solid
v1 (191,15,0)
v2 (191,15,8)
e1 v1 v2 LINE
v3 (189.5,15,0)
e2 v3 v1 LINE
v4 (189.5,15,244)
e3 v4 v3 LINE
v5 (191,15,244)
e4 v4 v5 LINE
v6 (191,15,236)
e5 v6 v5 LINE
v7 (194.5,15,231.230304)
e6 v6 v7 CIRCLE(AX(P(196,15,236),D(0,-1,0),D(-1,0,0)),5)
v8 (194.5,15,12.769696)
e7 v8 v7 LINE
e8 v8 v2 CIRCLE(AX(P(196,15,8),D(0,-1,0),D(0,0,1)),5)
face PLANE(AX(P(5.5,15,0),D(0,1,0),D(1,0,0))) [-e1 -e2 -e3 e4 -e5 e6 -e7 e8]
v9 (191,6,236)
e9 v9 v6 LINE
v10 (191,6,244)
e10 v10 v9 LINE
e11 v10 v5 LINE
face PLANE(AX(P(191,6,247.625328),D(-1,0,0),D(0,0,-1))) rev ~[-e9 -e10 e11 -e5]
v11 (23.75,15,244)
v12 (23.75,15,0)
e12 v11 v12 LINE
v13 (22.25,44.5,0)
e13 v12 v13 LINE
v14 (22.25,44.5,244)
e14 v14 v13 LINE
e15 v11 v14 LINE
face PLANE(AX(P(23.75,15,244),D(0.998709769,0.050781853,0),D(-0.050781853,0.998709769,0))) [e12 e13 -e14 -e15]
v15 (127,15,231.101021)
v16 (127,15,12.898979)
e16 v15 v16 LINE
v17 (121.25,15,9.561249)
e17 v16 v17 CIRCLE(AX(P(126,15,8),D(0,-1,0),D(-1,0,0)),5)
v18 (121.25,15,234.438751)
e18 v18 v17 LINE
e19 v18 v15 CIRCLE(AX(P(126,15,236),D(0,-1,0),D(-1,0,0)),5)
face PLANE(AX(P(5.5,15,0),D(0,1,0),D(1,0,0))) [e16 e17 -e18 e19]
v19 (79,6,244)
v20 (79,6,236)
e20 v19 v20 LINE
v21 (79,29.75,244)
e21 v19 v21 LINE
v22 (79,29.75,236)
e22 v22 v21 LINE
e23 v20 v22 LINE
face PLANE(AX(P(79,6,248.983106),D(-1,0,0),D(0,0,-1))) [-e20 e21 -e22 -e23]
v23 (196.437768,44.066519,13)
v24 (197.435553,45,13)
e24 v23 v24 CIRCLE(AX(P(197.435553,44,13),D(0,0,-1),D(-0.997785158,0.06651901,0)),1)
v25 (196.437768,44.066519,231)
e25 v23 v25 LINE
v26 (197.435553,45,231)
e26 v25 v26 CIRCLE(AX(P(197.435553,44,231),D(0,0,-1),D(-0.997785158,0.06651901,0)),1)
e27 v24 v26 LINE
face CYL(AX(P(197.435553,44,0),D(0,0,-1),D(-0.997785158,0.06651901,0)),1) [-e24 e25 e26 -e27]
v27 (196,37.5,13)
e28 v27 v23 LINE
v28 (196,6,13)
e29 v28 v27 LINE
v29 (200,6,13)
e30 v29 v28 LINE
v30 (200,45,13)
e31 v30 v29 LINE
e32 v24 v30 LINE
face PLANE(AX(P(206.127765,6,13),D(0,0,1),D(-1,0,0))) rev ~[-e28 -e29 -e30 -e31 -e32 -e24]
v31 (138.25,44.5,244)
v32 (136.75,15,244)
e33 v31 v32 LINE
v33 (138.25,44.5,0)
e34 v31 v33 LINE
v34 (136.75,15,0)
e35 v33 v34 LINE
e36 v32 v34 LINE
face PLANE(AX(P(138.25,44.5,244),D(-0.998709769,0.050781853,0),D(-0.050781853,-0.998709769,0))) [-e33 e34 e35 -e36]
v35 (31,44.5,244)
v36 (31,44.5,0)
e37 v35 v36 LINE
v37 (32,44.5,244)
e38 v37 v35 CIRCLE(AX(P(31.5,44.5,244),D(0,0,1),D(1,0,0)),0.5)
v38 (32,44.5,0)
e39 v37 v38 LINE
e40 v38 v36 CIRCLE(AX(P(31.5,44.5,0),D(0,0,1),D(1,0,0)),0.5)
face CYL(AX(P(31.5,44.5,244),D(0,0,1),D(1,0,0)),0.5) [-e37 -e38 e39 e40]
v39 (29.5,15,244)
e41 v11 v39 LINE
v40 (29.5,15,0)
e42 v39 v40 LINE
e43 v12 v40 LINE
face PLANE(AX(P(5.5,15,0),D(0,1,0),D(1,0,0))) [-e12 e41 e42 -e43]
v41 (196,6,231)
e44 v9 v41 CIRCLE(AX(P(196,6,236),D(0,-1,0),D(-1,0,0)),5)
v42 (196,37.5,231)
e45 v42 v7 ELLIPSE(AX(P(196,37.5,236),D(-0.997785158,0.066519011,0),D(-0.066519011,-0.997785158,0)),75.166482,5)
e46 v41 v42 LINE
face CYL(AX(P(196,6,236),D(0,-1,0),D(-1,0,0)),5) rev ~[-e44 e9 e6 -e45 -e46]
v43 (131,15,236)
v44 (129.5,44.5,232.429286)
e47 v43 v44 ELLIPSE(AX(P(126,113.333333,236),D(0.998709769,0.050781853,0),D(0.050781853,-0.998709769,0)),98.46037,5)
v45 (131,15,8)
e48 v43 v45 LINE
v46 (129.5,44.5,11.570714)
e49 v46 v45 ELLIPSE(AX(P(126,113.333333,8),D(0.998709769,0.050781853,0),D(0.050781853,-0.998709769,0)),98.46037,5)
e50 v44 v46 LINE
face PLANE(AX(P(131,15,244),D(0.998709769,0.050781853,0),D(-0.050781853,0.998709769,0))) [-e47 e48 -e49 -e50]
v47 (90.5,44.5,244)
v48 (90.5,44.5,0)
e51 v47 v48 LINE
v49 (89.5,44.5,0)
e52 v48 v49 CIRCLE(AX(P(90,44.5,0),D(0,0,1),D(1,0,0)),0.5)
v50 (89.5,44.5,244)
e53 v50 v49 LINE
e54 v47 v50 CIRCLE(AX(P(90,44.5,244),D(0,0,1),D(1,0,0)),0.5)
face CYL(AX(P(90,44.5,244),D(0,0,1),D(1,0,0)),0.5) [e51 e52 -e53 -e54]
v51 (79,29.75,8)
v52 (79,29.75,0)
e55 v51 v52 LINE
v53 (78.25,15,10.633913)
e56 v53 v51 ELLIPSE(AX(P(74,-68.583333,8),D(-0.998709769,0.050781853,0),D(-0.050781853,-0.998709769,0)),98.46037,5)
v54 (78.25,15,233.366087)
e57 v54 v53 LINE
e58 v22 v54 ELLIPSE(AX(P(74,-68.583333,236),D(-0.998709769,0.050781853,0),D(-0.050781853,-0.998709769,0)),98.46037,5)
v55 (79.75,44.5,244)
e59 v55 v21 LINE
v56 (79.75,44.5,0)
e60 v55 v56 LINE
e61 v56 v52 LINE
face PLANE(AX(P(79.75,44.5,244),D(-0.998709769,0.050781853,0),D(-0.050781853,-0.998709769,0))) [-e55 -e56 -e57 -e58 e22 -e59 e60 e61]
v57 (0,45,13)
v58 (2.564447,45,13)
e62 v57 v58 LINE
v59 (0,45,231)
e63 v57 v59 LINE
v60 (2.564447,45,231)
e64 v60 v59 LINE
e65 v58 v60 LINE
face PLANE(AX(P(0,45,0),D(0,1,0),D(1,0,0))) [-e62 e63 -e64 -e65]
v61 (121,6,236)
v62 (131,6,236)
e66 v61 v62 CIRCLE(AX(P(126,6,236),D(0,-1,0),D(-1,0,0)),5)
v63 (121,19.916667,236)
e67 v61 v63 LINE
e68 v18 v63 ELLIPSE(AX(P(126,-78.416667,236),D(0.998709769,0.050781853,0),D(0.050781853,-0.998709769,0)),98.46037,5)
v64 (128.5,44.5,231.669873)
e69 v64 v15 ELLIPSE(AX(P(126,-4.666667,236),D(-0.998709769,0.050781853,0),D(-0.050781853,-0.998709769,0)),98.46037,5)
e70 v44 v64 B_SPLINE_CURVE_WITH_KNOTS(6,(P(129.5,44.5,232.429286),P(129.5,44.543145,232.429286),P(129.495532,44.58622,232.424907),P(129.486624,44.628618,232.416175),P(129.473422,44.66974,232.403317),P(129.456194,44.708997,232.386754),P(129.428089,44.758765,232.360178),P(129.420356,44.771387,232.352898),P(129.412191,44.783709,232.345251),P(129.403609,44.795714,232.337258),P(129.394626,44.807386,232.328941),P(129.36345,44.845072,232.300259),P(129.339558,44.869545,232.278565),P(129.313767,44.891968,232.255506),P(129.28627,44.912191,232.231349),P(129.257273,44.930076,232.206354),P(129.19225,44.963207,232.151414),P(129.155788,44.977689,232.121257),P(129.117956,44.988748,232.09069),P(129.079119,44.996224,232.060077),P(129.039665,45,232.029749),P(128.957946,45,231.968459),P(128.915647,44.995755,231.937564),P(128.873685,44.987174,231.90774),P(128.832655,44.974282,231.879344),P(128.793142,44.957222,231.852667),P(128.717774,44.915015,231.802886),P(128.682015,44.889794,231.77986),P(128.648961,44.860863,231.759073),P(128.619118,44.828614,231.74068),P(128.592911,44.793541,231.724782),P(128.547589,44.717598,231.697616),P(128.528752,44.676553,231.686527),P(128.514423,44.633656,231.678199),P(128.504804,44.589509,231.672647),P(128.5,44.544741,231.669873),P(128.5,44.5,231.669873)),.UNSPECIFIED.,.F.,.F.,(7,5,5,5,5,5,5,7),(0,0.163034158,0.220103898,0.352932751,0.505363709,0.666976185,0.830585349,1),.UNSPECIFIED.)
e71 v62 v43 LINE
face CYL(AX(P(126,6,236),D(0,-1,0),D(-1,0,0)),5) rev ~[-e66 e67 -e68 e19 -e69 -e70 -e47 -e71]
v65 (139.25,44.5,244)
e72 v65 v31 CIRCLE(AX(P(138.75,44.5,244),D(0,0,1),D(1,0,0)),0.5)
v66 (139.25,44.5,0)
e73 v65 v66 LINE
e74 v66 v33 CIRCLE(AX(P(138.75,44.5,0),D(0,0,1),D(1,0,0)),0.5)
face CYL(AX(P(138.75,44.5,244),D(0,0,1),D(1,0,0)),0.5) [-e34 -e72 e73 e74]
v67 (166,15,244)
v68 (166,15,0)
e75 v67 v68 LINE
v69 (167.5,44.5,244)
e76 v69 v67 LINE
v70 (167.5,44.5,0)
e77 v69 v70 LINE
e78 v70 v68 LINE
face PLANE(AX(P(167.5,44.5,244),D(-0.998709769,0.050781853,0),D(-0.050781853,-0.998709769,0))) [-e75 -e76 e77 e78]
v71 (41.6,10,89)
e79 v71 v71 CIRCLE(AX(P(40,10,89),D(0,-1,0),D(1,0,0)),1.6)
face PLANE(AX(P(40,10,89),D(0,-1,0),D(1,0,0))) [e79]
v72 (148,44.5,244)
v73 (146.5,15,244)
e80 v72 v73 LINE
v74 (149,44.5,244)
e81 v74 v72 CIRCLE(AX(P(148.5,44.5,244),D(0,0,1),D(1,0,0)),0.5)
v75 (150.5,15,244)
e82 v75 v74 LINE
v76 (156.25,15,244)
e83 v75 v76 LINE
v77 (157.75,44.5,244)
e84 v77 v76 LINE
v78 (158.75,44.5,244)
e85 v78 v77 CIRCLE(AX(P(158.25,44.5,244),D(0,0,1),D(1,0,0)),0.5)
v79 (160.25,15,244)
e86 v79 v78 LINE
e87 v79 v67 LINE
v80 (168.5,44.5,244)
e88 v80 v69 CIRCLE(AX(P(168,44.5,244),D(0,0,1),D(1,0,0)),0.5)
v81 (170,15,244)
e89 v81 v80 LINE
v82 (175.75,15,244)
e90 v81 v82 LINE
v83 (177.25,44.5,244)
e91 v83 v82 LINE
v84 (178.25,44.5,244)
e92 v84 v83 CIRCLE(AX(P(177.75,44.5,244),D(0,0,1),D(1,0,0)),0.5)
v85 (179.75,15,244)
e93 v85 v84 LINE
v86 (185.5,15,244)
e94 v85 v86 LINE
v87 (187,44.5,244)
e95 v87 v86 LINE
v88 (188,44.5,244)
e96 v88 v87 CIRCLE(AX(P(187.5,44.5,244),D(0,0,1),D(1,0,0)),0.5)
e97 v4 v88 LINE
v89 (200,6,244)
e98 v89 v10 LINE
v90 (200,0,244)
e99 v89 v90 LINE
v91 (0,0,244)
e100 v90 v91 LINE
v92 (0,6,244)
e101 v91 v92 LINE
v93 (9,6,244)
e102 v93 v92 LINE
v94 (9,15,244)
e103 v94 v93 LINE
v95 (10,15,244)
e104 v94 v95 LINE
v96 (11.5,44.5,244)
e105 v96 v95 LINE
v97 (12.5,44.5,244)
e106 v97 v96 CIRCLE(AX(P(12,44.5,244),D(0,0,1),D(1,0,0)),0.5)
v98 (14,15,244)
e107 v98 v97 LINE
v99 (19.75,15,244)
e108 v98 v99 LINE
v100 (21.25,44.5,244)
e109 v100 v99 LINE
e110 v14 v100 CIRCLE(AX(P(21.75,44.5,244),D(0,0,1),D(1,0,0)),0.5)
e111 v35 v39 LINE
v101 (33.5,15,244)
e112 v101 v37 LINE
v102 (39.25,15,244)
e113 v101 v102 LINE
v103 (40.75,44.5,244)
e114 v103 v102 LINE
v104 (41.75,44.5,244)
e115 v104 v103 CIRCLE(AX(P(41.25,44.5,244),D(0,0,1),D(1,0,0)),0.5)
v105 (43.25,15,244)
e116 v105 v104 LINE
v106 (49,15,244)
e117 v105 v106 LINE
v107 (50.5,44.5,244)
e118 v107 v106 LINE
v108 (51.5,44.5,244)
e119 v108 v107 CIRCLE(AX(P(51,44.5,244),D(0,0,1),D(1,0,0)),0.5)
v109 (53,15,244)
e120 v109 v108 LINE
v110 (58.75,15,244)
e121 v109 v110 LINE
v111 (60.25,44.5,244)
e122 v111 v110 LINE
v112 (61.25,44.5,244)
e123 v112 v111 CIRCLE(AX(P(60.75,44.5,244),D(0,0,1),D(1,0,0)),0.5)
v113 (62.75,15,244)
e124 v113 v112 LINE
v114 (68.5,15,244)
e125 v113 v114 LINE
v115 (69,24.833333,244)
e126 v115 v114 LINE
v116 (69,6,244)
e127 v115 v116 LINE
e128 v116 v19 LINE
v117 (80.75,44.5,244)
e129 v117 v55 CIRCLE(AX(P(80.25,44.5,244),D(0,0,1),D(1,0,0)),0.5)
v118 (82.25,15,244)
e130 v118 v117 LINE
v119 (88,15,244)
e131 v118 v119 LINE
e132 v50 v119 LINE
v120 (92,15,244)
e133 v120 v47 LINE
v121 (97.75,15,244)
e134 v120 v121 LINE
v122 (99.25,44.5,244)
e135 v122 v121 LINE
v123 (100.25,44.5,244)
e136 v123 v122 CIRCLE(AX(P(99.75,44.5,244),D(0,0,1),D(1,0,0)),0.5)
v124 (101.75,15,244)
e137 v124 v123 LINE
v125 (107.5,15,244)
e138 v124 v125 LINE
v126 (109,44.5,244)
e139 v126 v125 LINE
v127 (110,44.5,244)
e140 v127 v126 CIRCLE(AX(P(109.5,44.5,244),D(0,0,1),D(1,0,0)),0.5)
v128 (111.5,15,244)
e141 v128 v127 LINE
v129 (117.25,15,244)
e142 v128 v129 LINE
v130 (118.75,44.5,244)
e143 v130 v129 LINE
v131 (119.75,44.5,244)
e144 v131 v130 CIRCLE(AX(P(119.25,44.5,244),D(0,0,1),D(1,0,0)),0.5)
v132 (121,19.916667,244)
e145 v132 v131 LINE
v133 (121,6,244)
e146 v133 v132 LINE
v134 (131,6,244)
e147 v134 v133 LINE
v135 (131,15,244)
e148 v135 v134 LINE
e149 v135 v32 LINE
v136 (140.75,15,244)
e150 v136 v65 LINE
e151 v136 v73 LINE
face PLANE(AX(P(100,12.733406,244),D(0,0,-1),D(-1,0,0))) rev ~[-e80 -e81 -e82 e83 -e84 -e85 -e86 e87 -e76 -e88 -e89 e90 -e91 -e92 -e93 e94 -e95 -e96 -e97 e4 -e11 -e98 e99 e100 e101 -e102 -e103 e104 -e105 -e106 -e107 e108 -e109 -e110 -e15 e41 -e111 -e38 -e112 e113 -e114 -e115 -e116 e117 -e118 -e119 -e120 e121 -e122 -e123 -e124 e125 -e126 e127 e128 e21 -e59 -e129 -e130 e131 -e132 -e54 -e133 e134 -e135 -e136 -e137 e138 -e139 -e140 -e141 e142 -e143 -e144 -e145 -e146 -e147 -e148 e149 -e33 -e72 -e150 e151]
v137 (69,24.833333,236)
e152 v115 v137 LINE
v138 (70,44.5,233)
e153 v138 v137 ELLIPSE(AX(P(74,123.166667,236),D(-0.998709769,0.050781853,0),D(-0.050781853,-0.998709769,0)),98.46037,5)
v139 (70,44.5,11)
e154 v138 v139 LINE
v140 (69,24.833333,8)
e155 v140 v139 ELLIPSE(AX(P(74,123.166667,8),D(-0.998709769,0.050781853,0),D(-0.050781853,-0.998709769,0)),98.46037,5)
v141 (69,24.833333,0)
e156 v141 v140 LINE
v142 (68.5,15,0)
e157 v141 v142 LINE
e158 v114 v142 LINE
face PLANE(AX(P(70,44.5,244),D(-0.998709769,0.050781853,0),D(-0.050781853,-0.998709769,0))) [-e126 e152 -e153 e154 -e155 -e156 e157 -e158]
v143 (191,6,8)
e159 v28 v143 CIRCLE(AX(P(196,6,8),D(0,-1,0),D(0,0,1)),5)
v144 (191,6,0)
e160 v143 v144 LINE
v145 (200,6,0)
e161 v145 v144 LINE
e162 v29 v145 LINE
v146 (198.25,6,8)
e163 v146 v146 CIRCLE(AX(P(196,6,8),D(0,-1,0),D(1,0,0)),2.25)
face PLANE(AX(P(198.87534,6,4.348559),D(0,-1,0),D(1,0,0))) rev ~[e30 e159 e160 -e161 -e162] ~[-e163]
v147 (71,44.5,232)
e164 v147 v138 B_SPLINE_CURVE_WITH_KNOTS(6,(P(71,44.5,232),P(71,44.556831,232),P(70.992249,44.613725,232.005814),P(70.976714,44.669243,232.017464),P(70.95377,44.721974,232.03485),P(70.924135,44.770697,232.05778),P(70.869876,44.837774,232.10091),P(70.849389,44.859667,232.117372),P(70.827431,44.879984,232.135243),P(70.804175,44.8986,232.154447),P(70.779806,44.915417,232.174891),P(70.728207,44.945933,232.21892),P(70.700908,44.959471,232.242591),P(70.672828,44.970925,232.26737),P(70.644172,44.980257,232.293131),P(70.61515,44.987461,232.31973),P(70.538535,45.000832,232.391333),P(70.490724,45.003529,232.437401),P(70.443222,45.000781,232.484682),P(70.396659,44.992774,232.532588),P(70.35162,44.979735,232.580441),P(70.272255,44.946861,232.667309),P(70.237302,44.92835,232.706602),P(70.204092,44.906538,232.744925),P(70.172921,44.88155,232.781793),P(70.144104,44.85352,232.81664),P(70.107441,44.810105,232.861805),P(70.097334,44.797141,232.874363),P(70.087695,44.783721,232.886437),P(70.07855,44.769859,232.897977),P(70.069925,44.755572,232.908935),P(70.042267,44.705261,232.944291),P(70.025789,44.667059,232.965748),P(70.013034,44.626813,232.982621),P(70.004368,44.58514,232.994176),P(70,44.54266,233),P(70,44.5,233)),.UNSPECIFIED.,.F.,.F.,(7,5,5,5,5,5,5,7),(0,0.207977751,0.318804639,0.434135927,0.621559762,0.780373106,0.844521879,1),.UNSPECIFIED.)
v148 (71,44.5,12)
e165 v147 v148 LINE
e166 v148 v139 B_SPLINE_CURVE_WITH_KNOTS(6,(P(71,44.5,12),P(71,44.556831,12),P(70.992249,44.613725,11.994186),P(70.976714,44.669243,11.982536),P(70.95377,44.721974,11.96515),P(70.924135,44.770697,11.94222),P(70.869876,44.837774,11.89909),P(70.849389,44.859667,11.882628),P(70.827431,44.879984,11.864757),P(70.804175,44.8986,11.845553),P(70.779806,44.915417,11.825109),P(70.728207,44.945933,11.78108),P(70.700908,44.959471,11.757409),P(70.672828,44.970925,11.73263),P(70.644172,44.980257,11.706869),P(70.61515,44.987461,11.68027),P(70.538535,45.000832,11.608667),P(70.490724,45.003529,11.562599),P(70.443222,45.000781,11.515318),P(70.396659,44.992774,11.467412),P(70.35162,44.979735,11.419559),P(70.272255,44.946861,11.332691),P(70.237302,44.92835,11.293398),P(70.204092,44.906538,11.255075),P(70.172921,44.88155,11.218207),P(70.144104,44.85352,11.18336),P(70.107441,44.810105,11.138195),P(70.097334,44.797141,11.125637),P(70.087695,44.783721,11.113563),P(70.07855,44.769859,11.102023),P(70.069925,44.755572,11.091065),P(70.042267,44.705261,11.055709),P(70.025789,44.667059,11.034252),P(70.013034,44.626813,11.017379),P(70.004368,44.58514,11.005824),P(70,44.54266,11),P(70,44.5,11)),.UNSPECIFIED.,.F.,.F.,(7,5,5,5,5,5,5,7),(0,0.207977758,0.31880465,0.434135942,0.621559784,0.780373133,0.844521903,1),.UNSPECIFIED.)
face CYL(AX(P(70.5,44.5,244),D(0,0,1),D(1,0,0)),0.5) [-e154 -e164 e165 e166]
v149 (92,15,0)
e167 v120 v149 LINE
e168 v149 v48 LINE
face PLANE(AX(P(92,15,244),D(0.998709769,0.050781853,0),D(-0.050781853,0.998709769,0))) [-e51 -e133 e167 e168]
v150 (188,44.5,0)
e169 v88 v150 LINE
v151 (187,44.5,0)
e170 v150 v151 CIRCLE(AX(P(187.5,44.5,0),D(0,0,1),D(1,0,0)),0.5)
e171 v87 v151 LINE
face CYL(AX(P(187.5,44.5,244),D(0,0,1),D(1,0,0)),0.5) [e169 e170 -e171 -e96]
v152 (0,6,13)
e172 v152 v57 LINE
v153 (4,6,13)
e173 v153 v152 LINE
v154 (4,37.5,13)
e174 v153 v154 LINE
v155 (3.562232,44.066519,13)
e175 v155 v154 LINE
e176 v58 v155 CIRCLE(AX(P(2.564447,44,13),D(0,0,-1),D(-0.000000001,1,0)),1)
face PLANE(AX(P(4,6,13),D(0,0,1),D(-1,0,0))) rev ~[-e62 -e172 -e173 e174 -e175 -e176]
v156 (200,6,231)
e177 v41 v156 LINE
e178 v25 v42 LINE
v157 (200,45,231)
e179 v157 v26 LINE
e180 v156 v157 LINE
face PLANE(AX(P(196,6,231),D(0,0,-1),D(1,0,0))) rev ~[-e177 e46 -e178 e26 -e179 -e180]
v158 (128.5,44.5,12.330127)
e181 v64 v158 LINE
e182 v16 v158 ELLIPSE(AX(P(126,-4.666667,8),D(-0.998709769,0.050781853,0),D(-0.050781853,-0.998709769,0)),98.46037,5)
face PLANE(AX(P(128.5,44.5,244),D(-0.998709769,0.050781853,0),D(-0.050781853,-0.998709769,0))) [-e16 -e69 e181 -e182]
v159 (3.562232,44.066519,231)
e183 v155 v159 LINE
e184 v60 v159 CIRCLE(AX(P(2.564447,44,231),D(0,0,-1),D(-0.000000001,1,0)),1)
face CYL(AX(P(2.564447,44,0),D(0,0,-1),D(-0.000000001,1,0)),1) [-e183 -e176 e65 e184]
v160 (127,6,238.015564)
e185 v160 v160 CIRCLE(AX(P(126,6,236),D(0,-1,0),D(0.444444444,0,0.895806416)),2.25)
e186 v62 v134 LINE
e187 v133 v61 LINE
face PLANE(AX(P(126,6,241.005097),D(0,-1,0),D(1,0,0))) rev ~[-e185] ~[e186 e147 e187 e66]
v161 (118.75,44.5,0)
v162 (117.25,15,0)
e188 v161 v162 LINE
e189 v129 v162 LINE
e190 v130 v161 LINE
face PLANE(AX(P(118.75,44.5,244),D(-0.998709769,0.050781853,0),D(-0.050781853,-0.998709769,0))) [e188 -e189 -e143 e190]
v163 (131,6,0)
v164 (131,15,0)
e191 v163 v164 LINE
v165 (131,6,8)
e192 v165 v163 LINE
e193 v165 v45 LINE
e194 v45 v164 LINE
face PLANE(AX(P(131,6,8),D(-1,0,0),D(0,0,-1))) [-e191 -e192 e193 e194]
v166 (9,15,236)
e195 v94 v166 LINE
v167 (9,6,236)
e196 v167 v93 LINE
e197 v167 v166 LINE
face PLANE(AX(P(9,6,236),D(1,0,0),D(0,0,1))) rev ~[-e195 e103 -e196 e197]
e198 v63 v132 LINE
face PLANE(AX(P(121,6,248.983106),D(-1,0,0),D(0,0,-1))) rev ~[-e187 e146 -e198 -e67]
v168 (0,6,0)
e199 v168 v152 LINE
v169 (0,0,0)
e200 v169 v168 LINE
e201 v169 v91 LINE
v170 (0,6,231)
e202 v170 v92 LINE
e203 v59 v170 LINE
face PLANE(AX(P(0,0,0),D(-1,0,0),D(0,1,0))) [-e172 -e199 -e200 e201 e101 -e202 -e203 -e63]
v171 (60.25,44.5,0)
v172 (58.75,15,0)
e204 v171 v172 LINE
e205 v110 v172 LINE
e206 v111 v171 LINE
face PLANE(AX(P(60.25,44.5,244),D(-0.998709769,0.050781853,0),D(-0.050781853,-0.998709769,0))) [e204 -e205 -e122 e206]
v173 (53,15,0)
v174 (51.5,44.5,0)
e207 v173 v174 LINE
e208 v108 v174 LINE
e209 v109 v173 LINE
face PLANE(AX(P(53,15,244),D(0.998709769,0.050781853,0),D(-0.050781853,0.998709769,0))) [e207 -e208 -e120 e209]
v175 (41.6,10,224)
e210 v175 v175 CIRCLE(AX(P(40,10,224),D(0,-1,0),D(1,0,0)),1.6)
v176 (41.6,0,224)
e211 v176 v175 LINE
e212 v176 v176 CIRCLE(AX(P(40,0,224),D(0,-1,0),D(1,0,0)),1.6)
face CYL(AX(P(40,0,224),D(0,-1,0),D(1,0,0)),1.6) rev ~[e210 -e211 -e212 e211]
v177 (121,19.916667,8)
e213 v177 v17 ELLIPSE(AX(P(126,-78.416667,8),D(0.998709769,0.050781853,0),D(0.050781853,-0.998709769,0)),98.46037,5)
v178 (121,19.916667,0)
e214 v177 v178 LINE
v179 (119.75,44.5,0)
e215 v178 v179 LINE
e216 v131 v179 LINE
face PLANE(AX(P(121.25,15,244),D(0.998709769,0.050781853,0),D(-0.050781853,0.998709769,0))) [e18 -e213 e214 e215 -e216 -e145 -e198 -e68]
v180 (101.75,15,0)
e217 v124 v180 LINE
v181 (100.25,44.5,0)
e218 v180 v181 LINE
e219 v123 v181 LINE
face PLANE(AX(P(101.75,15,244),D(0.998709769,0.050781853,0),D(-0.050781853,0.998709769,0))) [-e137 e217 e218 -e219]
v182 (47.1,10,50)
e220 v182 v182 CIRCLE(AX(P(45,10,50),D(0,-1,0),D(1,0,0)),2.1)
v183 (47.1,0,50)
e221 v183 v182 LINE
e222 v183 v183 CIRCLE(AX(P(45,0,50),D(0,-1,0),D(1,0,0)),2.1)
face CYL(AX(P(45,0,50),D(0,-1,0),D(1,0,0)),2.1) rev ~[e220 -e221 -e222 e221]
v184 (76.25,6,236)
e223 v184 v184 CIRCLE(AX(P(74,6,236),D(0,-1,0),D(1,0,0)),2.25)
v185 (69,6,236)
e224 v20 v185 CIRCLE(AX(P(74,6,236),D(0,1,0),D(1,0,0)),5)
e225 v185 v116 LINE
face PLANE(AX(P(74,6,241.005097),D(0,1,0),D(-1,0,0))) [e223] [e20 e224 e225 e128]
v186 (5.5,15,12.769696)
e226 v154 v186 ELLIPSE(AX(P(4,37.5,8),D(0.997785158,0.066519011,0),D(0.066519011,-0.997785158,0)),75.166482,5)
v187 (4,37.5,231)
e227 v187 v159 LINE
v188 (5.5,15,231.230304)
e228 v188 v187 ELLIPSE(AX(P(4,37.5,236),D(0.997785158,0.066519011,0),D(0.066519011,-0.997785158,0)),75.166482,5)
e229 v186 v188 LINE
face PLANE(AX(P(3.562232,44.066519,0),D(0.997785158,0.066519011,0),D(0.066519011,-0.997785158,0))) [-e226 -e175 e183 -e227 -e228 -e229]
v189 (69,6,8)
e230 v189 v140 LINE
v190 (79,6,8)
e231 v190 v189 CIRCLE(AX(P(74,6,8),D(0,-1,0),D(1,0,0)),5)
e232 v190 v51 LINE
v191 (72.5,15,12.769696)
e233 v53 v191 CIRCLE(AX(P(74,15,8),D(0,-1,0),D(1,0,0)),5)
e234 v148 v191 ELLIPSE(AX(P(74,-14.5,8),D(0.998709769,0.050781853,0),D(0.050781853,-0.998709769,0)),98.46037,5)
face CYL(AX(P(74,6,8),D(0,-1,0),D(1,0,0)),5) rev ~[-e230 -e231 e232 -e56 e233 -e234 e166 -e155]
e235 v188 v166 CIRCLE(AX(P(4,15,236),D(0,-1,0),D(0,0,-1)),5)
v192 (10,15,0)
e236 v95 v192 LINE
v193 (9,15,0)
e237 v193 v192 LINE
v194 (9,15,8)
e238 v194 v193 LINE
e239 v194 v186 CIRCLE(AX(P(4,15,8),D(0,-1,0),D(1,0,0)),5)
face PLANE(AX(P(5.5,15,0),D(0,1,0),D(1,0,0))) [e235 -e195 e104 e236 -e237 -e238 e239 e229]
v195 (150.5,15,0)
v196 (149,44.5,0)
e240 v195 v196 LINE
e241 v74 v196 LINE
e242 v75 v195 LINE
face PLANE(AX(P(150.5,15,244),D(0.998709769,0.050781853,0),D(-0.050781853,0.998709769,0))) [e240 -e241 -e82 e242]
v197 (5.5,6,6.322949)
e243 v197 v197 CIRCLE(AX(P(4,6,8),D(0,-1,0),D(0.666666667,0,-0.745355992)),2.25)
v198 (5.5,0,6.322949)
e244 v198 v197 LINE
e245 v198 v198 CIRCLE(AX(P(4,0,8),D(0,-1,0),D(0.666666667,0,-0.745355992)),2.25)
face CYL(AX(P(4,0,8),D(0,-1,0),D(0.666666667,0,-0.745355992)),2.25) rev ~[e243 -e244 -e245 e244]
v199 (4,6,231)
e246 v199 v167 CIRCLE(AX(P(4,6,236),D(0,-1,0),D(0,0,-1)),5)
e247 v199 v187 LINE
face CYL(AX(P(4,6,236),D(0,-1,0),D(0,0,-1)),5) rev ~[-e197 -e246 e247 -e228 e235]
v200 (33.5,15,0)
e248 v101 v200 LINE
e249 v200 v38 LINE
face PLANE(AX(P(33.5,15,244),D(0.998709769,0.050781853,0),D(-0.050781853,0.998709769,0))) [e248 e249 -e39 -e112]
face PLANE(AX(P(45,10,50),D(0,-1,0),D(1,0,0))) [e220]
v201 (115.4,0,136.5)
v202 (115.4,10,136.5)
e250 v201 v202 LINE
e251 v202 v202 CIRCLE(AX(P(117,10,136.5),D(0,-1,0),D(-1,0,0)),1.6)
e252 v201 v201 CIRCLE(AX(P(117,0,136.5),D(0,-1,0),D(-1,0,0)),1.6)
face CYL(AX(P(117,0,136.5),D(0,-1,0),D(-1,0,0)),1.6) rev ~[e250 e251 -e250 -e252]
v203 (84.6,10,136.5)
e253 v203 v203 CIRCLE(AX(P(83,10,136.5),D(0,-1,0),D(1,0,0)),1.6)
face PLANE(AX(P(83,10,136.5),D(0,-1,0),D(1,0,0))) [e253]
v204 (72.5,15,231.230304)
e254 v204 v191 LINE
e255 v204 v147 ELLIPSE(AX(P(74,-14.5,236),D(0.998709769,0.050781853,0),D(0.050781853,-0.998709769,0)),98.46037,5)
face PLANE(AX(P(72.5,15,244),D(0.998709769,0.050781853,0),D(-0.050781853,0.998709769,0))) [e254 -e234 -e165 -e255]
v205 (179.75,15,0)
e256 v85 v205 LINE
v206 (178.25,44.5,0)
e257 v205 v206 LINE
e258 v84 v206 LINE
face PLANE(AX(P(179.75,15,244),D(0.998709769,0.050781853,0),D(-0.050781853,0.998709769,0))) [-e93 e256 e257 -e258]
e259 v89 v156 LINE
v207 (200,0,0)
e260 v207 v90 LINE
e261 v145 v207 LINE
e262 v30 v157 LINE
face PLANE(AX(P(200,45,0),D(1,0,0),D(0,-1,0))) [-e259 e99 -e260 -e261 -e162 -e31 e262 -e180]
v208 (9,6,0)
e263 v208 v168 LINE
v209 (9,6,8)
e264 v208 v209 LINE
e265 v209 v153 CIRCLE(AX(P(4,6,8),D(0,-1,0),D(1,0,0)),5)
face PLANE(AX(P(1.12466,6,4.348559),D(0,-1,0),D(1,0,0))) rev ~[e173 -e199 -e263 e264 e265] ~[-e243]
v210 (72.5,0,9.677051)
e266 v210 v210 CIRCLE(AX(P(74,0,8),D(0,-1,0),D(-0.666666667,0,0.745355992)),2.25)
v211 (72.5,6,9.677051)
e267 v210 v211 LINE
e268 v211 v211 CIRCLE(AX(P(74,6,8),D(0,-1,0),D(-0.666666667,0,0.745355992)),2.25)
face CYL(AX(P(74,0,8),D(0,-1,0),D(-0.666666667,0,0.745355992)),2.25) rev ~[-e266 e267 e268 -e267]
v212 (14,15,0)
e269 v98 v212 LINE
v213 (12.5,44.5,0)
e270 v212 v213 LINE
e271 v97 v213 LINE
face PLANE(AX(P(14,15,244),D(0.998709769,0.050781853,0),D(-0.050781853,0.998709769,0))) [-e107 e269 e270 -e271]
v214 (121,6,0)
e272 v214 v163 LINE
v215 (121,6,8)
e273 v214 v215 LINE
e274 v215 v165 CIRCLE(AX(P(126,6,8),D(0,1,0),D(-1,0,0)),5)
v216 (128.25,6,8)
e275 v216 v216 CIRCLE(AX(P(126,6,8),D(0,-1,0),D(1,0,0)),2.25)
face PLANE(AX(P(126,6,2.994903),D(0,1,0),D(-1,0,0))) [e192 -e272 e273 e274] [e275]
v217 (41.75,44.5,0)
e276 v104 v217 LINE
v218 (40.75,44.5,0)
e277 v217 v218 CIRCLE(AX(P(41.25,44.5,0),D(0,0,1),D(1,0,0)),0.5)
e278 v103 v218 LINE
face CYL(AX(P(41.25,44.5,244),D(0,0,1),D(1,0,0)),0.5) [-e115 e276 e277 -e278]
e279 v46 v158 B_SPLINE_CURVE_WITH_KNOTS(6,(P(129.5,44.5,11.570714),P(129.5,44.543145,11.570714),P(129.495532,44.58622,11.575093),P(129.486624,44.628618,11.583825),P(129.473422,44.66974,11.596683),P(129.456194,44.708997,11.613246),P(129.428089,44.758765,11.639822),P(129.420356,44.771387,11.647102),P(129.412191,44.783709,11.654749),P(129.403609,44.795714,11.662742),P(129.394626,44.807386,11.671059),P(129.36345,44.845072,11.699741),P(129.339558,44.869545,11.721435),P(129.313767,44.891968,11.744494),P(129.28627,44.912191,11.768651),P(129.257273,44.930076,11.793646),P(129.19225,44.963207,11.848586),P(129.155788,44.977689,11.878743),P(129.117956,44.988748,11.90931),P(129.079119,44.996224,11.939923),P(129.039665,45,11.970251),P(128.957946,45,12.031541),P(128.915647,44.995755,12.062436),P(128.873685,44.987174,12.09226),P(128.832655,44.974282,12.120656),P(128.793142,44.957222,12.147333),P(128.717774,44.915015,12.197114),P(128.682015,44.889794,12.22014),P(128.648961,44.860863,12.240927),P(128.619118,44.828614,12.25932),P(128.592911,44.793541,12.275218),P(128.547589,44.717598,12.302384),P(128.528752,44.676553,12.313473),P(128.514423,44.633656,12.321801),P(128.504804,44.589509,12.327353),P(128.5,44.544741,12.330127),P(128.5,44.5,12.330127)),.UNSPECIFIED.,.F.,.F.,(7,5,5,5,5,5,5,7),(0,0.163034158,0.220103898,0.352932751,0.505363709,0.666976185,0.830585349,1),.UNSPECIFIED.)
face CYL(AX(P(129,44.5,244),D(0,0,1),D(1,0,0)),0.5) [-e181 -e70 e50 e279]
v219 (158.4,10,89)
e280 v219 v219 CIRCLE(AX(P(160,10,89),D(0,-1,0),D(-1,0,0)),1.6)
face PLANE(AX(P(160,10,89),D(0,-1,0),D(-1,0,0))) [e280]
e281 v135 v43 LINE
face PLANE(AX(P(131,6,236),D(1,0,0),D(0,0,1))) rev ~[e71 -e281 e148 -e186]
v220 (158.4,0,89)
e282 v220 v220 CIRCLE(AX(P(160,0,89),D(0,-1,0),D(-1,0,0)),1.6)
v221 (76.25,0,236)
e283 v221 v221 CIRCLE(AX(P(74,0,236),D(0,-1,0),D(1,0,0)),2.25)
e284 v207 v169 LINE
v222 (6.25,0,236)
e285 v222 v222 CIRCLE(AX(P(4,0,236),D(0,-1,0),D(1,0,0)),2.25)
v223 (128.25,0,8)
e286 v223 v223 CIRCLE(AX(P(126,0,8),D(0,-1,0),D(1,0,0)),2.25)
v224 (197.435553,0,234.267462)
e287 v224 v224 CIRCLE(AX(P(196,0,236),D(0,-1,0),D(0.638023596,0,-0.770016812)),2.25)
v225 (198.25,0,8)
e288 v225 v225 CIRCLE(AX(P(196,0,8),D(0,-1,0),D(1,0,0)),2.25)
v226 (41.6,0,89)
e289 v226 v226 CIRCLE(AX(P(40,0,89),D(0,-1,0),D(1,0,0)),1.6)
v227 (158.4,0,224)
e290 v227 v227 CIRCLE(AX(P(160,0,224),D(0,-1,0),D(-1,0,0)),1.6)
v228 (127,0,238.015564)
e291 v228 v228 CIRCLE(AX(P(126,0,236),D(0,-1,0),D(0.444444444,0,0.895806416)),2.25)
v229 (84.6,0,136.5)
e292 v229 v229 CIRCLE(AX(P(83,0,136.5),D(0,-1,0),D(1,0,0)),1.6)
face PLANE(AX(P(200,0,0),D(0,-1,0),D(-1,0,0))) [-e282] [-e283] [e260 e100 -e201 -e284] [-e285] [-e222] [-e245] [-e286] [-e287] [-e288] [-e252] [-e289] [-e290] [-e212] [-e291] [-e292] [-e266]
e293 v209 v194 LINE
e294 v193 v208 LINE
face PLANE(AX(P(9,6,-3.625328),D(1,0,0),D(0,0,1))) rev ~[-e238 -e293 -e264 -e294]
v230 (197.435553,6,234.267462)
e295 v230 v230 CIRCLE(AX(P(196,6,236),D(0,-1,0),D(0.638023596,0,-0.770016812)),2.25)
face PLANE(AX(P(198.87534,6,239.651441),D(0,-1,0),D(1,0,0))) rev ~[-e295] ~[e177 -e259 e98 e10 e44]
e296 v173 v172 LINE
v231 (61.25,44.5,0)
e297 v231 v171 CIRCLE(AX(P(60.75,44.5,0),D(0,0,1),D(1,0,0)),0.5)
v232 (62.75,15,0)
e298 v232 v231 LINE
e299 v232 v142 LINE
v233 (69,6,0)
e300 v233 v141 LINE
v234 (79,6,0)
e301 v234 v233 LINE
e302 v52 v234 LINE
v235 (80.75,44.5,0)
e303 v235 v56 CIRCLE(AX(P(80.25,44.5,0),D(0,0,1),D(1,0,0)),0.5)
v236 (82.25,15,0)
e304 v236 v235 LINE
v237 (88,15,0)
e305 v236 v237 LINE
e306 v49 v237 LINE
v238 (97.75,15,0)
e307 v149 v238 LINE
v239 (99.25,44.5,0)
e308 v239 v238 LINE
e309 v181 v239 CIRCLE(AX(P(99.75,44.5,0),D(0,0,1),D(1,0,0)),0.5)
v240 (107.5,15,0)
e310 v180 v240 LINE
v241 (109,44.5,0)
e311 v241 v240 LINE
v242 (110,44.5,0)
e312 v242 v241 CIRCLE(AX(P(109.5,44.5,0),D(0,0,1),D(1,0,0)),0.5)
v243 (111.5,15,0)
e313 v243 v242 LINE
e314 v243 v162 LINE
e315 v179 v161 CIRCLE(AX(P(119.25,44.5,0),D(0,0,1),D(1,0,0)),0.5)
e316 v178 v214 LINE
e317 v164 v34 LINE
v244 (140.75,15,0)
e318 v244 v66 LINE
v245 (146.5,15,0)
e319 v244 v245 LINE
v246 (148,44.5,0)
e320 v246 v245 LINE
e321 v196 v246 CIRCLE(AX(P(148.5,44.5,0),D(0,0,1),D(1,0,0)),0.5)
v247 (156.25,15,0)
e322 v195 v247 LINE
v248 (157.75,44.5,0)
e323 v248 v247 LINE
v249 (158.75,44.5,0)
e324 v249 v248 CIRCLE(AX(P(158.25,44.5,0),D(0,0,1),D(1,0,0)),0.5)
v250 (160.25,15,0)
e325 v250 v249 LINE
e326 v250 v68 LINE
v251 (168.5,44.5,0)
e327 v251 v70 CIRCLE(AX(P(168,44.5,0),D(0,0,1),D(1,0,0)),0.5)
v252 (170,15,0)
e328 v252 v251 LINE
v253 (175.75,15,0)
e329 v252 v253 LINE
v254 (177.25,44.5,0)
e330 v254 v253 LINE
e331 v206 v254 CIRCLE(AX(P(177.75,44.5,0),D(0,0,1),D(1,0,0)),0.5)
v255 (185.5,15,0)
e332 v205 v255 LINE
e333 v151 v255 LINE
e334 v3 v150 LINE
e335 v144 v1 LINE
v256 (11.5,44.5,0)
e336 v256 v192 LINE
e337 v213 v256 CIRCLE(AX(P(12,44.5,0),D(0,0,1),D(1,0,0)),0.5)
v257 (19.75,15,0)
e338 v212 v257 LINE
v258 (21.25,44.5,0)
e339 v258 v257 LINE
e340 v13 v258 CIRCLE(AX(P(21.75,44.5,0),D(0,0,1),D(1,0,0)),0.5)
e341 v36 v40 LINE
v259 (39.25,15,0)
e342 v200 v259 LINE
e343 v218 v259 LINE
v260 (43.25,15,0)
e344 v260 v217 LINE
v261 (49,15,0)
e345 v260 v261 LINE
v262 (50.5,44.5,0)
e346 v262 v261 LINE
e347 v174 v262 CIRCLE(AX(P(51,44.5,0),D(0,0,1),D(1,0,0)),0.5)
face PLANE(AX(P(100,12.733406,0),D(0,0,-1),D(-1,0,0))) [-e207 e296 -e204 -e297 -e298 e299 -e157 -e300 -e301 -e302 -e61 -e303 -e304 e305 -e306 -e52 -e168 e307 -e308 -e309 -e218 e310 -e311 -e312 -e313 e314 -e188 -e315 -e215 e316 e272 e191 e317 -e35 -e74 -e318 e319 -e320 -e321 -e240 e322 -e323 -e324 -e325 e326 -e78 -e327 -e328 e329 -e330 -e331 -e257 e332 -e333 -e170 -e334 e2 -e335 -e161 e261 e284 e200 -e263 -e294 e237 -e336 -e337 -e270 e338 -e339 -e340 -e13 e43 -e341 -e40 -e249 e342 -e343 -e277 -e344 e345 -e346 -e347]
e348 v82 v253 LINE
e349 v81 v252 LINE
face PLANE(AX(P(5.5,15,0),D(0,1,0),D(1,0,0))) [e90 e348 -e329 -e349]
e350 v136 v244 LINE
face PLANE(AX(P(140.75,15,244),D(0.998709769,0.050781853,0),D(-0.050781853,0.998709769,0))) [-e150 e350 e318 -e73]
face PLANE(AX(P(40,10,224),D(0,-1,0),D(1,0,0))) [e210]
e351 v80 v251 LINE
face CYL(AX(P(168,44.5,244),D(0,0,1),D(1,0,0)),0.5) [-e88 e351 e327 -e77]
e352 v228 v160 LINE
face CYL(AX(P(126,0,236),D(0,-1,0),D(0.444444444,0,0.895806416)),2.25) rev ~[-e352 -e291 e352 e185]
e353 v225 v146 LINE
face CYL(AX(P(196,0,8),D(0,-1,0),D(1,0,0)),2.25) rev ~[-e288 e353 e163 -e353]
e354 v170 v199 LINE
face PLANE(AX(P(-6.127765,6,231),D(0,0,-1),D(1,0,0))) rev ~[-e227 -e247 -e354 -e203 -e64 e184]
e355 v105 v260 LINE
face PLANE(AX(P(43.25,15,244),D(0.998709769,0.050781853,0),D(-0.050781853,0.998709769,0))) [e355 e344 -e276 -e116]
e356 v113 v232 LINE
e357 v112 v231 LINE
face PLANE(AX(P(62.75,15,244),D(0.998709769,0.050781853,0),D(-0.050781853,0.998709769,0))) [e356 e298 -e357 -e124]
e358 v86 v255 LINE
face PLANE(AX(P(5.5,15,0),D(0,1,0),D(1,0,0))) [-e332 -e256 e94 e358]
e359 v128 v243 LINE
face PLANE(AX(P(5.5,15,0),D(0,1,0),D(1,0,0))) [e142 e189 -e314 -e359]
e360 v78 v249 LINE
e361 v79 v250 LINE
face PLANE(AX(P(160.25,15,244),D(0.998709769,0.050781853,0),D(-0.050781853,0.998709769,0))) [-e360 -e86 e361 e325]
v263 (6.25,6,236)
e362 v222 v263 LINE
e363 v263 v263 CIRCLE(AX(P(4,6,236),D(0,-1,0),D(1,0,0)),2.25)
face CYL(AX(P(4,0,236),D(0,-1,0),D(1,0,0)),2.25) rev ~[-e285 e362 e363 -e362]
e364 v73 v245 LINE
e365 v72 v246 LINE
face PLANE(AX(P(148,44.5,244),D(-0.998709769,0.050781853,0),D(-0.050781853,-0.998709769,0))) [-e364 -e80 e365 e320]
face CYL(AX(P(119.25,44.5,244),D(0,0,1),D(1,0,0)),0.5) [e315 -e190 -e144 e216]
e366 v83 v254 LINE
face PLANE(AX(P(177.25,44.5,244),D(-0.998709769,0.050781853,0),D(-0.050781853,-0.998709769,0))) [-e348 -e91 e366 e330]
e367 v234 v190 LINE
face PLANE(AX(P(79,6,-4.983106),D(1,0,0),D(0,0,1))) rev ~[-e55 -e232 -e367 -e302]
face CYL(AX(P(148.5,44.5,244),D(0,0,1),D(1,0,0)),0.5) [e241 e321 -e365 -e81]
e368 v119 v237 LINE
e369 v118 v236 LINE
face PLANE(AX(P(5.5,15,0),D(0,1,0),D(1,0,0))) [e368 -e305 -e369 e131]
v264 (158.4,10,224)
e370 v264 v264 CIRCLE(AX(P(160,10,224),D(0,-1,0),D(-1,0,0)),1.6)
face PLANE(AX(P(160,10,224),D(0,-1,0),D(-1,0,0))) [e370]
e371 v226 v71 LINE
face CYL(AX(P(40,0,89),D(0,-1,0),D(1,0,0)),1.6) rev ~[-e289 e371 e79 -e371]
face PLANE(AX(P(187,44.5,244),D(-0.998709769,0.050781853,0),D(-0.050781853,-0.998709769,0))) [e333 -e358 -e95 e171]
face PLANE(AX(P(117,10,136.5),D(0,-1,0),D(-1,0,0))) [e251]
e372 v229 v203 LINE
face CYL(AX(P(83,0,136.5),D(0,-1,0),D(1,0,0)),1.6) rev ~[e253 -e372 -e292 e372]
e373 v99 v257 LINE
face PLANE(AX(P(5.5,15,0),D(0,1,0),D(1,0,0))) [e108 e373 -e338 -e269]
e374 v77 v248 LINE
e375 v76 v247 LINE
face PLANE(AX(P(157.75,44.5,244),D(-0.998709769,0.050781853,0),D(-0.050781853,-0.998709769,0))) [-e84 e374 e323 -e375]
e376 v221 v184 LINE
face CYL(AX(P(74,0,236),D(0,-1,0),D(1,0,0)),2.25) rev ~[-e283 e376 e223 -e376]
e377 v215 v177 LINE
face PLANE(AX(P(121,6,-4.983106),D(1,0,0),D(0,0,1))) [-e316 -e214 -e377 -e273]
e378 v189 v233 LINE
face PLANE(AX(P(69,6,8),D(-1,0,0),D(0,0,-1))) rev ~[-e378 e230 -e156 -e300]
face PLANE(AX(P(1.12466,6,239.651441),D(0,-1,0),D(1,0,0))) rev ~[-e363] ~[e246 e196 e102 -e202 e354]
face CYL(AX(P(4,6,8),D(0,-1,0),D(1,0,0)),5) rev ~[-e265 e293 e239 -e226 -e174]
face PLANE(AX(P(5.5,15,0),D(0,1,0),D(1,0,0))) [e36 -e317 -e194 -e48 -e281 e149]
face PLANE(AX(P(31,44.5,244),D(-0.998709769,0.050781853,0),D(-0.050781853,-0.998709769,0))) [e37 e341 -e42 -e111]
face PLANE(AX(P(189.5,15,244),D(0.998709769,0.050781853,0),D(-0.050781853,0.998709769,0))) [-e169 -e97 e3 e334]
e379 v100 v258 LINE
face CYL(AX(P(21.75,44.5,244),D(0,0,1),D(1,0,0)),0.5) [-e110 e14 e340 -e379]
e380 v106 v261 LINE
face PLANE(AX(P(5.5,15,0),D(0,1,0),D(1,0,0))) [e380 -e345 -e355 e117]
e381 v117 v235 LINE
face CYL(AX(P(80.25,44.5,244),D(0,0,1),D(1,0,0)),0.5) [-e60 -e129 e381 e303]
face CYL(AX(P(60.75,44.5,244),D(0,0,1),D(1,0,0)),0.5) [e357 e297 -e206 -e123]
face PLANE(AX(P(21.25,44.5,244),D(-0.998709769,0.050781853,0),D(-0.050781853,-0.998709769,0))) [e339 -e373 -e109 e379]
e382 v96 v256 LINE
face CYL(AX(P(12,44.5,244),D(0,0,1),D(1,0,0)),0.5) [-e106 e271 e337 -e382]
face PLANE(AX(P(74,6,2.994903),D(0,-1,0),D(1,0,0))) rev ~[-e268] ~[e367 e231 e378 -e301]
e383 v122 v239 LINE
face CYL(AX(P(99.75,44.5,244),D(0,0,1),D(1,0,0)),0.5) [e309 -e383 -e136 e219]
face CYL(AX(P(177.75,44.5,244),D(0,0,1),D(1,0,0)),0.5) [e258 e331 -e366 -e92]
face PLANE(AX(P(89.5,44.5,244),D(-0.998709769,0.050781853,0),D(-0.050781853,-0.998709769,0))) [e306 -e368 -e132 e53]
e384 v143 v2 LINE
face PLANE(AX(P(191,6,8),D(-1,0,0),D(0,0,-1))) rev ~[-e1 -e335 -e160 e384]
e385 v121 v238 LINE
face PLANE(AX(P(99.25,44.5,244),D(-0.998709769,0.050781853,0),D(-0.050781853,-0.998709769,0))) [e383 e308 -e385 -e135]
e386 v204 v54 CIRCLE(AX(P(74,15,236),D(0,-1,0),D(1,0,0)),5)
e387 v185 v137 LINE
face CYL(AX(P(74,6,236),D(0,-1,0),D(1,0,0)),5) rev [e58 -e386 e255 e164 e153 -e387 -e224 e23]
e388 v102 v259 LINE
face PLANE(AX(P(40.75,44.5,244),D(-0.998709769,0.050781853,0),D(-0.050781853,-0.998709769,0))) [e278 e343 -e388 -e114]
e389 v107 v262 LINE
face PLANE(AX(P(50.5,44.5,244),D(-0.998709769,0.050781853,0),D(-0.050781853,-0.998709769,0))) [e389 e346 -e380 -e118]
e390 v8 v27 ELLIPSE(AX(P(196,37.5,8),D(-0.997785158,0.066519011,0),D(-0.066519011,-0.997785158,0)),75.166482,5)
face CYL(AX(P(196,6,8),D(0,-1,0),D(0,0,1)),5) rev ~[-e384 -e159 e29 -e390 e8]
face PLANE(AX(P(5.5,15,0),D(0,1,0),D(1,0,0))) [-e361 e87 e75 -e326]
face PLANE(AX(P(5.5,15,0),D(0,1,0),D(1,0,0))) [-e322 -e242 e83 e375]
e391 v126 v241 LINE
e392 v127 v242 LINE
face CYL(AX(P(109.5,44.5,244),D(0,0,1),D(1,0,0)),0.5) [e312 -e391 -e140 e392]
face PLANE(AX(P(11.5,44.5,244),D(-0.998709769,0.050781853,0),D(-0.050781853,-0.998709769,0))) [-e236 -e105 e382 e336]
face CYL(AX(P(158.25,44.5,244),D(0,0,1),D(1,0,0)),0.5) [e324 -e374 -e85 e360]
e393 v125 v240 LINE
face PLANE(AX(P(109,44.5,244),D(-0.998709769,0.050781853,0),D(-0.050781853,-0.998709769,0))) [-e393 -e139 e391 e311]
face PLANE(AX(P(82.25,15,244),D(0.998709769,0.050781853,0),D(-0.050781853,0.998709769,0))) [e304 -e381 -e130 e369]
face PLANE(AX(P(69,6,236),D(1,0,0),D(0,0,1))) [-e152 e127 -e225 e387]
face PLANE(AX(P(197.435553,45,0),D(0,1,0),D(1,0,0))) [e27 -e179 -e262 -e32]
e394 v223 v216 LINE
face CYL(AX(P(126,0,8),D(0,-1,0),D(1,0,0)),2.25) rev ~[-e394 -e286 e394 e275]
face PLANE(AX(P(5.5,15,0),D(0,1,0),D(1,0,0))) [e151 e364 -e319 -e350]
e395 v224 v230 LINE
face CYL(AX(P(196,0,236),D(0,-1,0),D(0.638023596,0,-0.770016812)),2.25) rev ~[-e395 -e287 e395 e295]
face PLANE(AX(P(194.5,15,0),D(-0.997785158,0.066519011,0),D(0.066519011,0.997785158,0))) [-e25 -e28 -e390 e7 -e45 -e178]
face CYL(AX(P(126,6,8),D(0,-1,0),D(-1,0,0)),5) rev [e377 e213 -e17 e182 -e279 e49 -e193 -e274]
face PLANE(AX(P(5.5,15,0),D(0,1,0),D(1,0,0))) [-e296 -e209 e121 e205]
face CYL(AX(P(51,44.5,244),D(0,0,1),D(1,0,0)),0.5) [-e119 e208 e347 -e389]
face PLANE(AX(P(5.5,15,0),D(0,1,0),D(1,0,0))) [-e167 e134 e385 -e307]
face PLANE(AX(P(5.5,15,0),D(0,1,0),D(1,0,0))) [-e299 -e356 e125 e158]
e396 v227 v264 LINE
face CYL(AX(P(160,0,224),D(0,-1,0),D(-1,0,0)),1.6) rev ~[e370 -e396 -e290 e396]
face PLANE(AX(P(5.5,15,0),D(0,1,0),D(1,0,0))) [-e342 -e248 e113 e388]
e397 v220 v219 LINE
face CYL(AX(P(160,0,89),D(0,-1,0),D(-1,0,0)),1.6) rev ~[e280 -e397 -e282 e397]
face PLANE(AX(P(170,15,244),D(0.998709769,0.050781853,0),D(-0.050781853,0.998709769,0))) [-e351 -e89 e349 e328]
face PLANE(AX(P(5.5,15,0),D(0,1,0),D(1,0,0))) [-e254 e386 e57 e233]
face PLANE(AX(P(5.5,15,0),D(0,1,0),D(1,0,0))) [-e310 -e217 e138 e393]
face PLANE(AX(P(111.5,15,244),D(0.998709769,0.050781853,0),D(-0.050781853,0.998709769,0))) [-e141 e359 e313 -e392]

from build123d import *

# Parameters (mm, degrees)
EXTRUDE_1_DEPTH       = 244
EXTRUDE_3_DEPTH       = 244
PATTERN_CURVE_1_COUNT = 19
PATTERN_CURVE_1_PITCH = 9.75
SKETCH_3_R            = 2.25
CUT_EXTRUDE_1_DEPTH   = 50
SKETCH_5_R            = 2.1
SKETCH_5_R_2          = 1.6
CUT_EXTRUDE_2_DEPTH   = 10
CUT_EXTRUDE_3_DEPTH   = 80


with BuildPart() as part:
    # Эскиз1 → Вытянуть1 (new body)
    with BuildSketch(Plane.XY):
        with BuildLine():
            Line((0, 45), (2.564446908, 45))
            ThreePointArc((2.564446908, 45), (3.247630994, 44.730246195), (3.562232066, 44.066519011))
            Line((3.562232066, 44.066519011), (5.5, 15))
            Line((5.5, 15), (194.5, 15))
            Line((194.5, 15), (196.437767934, 44.066519011))
            ThreePointArc((196.437767934, 44.066519011), (196.752369006, 44.730246195), (197.435553092, 45))
            Line((197.435553092, 45), (200, 45))
            Line((200, 45), (200, 0))
            Line((200, 0), (0, 0))
            Line((0, 0), (0, 45))
        make_face()
    extrude(amount=EXTRUDE_1_DEPTH)

    # Эскиз2 → Вытянуть3 (add)
    with BuildSketch(Plane.XY.offset(244)):
        with BuildLine():
            Line((11.5, 44.5), (10, 15))
            Line((10, 15), (14, 15))
            Line((14, 15), (12.5, 44.5))
            ThreePointArc((12.5, 44.5), (12, 45), (11.5, 44.5))
        make_face()
    extrude_3 = extrude(amount=-EXTRUDE_3_DEPTH)

    # Кривая1: Вытянуть3 ×19
    with Locations(*[(i * PATTERN_CURVE_1_PITCH, 0, 0) for i in range(1, PATTERN_CURVE_1_COUNT)]):
        add(extrude_3)

    # Эскиз3 → Вырез-Вытянуть1 (cut)
    with BuildSketch(Plane.XZ):
        with Locations((4, 236)):
            Circle(SKETCH_3_R)
        with Locations((74, 236)):
            Circle(SKETCH_3_R)
        with Locations(Location((74, 8, 0), (0, 0, 131.810314896))):
            Circle(SKETCH_3_R)
        with Locations(Location((4, 8, 0), (0, 0, 311.810314896))):
            Circle(SKETCH_3_R)
        with Locations((196, 8)):
            Circle(SKETCH_3_R)
        with Locations((126, 8)):
            Circle(SKETCH_3_R)
        with Locations(Location((126, 236, 0), (0, 0, 63.612200039))):
            Circle(SKETCH_3_R)
        with Locations(Location((196, 236, 0), (0, 0, 309.644601439))):
            Circle(SKETCH_3_R)
    extrude(amount=-CUT_EXTRUDE_1_DEPTH, mode=Mode.SUBTRACT)

    # Эскиз5 → Вырез-Вытянуть2 (cut)
    with BuildSketch(Plane(origin=(1.487985642, 0, 27.400529356), x_dir=(1, 0, 0), z_dir=(0, -1, 0))):
        with Locations((43.512014358, 22.599470644)):
            Circle(SKETCH_5_R)
        with Locations((81.512014358, 109.099470644)):
            Circle(SKETCH_5_R_2)
        with Locations((38.512014358, 196.599470644)):
            Circle(SKETCH_5_R_2)
        with Locations((38.512014358, 61.599470644)):
            Circle(SKETCH_5_R_2)
        with Locations(Location((158.512014358, 61.599470644, 0), (0, 0, 180))):
            Circle(SKETCH_5_R_2)
        with Locations(Location((115.512014358, 109.099470644, 0), (0, 0, 180))):
            Circle(SKETCH_5_R_2)
        with Locations(Location((158.512014358, 196.599470644, 0), (0, 0, 180))):
            Circle(SKETCH_5_R_2)
    extrude(amount=-CUT_EXTRUDE_2_DEPTH, mode=Mode.SUBTRACT)

    # Эскиз6 → Вырез-Вытянуть3 (cut)
    with BuildSketch(Plane.XZ.offset(-6)):
        with BuildLine():
            Line((9, 236), (9, 247.625328498))
            Line((9, 247.625328498), (-6.127764857, 247.625328498))
            Line((-6.127764857, 247.625328498), (-6.127764857, 231))
            Line((-6.127764857, 231), (4, 231))
            ThreePointArc((4, 231), (7.535533906, 232.464466094), (9, 236))
        make_face()
        with BuildLine():
            Line((69, 236), (69, 248.983105869))
            Line((69, 248.983105869), (79, 248.983105869))
            Line((79, 248.983105869), (79, 236))
            ThreePointArc((79, 236), (74, 231), (69, 236))
        make_face()
        with BuildLine():
            Line((121, 248.983105869), (121, 236))
            ThreePointArc((121, 236), (126, 231), (131, 236))
            Line((131, 236), (131, 248.983105869))
            Line((131, 248.983105869), (121, 248.983105869))
        make_face()
        with BuildLine():
            Line((206.127764857, 247.625328498), (191, 247.625328498))
            Line((191, 247.625328498), (191, 236))
            ThreePointArc((191, 236), (192.464466094, 232.464466094), (196, 231))
            Line((196, 231), (206.127764857, 231))
            Line((206.127764857, 231), (206.127764857, 247.625328498))
        make_face()
        with BuildLine():
            Line((191, 8), (191, -3.625328498))
            Line((191, -3.625328498), (206.127764857, -3.625328498))
            Line((206.127764857, -3.625328498), (206.127764857, 13))
            Line((206.127764857, 13), (196, 13))
            ThreePointArc((196, 13), (192.464466094, 11.535533906), (191, 8))
        make_face()
        with BuildLine():
            Line((131, 8), (131, -4.983105869))
            Line((131, -4.983105869), (121, -4.983105869))
            Line((121, -4.983105869), (121, 8))
            ThreePointArc((121, 8), (126, 13), (131, 8))
        make_face()
        with BuildLine():
            Line((79, -4.983105869), (79, 8))
            ThreePointArc((79, 8), (74, 13), (69, 8))
            Line((69, 8), (69, -4.983105869))
            Line((69, -4.983105869), (79, -4.983105869))
        make_face()
        with BuildLine():
            Line((-6.127764857, -3.625328498), (9, -3.625328498))
            Line((9, -3.625328498), (9, 8))
            ThreePointArc((9, 8), (7.535533906, 11.535533906), (4, 13))
            Line((4, 13), (-6.127764857, 13))
            Line((-6.127764857, 13), (-6.127764857, -3.625328498))
        make_face()
    extrude(amount=-CUT_EXTRUDE_3_DEPTH, mode=Mode.SUBTRACT)


solid = part.part
